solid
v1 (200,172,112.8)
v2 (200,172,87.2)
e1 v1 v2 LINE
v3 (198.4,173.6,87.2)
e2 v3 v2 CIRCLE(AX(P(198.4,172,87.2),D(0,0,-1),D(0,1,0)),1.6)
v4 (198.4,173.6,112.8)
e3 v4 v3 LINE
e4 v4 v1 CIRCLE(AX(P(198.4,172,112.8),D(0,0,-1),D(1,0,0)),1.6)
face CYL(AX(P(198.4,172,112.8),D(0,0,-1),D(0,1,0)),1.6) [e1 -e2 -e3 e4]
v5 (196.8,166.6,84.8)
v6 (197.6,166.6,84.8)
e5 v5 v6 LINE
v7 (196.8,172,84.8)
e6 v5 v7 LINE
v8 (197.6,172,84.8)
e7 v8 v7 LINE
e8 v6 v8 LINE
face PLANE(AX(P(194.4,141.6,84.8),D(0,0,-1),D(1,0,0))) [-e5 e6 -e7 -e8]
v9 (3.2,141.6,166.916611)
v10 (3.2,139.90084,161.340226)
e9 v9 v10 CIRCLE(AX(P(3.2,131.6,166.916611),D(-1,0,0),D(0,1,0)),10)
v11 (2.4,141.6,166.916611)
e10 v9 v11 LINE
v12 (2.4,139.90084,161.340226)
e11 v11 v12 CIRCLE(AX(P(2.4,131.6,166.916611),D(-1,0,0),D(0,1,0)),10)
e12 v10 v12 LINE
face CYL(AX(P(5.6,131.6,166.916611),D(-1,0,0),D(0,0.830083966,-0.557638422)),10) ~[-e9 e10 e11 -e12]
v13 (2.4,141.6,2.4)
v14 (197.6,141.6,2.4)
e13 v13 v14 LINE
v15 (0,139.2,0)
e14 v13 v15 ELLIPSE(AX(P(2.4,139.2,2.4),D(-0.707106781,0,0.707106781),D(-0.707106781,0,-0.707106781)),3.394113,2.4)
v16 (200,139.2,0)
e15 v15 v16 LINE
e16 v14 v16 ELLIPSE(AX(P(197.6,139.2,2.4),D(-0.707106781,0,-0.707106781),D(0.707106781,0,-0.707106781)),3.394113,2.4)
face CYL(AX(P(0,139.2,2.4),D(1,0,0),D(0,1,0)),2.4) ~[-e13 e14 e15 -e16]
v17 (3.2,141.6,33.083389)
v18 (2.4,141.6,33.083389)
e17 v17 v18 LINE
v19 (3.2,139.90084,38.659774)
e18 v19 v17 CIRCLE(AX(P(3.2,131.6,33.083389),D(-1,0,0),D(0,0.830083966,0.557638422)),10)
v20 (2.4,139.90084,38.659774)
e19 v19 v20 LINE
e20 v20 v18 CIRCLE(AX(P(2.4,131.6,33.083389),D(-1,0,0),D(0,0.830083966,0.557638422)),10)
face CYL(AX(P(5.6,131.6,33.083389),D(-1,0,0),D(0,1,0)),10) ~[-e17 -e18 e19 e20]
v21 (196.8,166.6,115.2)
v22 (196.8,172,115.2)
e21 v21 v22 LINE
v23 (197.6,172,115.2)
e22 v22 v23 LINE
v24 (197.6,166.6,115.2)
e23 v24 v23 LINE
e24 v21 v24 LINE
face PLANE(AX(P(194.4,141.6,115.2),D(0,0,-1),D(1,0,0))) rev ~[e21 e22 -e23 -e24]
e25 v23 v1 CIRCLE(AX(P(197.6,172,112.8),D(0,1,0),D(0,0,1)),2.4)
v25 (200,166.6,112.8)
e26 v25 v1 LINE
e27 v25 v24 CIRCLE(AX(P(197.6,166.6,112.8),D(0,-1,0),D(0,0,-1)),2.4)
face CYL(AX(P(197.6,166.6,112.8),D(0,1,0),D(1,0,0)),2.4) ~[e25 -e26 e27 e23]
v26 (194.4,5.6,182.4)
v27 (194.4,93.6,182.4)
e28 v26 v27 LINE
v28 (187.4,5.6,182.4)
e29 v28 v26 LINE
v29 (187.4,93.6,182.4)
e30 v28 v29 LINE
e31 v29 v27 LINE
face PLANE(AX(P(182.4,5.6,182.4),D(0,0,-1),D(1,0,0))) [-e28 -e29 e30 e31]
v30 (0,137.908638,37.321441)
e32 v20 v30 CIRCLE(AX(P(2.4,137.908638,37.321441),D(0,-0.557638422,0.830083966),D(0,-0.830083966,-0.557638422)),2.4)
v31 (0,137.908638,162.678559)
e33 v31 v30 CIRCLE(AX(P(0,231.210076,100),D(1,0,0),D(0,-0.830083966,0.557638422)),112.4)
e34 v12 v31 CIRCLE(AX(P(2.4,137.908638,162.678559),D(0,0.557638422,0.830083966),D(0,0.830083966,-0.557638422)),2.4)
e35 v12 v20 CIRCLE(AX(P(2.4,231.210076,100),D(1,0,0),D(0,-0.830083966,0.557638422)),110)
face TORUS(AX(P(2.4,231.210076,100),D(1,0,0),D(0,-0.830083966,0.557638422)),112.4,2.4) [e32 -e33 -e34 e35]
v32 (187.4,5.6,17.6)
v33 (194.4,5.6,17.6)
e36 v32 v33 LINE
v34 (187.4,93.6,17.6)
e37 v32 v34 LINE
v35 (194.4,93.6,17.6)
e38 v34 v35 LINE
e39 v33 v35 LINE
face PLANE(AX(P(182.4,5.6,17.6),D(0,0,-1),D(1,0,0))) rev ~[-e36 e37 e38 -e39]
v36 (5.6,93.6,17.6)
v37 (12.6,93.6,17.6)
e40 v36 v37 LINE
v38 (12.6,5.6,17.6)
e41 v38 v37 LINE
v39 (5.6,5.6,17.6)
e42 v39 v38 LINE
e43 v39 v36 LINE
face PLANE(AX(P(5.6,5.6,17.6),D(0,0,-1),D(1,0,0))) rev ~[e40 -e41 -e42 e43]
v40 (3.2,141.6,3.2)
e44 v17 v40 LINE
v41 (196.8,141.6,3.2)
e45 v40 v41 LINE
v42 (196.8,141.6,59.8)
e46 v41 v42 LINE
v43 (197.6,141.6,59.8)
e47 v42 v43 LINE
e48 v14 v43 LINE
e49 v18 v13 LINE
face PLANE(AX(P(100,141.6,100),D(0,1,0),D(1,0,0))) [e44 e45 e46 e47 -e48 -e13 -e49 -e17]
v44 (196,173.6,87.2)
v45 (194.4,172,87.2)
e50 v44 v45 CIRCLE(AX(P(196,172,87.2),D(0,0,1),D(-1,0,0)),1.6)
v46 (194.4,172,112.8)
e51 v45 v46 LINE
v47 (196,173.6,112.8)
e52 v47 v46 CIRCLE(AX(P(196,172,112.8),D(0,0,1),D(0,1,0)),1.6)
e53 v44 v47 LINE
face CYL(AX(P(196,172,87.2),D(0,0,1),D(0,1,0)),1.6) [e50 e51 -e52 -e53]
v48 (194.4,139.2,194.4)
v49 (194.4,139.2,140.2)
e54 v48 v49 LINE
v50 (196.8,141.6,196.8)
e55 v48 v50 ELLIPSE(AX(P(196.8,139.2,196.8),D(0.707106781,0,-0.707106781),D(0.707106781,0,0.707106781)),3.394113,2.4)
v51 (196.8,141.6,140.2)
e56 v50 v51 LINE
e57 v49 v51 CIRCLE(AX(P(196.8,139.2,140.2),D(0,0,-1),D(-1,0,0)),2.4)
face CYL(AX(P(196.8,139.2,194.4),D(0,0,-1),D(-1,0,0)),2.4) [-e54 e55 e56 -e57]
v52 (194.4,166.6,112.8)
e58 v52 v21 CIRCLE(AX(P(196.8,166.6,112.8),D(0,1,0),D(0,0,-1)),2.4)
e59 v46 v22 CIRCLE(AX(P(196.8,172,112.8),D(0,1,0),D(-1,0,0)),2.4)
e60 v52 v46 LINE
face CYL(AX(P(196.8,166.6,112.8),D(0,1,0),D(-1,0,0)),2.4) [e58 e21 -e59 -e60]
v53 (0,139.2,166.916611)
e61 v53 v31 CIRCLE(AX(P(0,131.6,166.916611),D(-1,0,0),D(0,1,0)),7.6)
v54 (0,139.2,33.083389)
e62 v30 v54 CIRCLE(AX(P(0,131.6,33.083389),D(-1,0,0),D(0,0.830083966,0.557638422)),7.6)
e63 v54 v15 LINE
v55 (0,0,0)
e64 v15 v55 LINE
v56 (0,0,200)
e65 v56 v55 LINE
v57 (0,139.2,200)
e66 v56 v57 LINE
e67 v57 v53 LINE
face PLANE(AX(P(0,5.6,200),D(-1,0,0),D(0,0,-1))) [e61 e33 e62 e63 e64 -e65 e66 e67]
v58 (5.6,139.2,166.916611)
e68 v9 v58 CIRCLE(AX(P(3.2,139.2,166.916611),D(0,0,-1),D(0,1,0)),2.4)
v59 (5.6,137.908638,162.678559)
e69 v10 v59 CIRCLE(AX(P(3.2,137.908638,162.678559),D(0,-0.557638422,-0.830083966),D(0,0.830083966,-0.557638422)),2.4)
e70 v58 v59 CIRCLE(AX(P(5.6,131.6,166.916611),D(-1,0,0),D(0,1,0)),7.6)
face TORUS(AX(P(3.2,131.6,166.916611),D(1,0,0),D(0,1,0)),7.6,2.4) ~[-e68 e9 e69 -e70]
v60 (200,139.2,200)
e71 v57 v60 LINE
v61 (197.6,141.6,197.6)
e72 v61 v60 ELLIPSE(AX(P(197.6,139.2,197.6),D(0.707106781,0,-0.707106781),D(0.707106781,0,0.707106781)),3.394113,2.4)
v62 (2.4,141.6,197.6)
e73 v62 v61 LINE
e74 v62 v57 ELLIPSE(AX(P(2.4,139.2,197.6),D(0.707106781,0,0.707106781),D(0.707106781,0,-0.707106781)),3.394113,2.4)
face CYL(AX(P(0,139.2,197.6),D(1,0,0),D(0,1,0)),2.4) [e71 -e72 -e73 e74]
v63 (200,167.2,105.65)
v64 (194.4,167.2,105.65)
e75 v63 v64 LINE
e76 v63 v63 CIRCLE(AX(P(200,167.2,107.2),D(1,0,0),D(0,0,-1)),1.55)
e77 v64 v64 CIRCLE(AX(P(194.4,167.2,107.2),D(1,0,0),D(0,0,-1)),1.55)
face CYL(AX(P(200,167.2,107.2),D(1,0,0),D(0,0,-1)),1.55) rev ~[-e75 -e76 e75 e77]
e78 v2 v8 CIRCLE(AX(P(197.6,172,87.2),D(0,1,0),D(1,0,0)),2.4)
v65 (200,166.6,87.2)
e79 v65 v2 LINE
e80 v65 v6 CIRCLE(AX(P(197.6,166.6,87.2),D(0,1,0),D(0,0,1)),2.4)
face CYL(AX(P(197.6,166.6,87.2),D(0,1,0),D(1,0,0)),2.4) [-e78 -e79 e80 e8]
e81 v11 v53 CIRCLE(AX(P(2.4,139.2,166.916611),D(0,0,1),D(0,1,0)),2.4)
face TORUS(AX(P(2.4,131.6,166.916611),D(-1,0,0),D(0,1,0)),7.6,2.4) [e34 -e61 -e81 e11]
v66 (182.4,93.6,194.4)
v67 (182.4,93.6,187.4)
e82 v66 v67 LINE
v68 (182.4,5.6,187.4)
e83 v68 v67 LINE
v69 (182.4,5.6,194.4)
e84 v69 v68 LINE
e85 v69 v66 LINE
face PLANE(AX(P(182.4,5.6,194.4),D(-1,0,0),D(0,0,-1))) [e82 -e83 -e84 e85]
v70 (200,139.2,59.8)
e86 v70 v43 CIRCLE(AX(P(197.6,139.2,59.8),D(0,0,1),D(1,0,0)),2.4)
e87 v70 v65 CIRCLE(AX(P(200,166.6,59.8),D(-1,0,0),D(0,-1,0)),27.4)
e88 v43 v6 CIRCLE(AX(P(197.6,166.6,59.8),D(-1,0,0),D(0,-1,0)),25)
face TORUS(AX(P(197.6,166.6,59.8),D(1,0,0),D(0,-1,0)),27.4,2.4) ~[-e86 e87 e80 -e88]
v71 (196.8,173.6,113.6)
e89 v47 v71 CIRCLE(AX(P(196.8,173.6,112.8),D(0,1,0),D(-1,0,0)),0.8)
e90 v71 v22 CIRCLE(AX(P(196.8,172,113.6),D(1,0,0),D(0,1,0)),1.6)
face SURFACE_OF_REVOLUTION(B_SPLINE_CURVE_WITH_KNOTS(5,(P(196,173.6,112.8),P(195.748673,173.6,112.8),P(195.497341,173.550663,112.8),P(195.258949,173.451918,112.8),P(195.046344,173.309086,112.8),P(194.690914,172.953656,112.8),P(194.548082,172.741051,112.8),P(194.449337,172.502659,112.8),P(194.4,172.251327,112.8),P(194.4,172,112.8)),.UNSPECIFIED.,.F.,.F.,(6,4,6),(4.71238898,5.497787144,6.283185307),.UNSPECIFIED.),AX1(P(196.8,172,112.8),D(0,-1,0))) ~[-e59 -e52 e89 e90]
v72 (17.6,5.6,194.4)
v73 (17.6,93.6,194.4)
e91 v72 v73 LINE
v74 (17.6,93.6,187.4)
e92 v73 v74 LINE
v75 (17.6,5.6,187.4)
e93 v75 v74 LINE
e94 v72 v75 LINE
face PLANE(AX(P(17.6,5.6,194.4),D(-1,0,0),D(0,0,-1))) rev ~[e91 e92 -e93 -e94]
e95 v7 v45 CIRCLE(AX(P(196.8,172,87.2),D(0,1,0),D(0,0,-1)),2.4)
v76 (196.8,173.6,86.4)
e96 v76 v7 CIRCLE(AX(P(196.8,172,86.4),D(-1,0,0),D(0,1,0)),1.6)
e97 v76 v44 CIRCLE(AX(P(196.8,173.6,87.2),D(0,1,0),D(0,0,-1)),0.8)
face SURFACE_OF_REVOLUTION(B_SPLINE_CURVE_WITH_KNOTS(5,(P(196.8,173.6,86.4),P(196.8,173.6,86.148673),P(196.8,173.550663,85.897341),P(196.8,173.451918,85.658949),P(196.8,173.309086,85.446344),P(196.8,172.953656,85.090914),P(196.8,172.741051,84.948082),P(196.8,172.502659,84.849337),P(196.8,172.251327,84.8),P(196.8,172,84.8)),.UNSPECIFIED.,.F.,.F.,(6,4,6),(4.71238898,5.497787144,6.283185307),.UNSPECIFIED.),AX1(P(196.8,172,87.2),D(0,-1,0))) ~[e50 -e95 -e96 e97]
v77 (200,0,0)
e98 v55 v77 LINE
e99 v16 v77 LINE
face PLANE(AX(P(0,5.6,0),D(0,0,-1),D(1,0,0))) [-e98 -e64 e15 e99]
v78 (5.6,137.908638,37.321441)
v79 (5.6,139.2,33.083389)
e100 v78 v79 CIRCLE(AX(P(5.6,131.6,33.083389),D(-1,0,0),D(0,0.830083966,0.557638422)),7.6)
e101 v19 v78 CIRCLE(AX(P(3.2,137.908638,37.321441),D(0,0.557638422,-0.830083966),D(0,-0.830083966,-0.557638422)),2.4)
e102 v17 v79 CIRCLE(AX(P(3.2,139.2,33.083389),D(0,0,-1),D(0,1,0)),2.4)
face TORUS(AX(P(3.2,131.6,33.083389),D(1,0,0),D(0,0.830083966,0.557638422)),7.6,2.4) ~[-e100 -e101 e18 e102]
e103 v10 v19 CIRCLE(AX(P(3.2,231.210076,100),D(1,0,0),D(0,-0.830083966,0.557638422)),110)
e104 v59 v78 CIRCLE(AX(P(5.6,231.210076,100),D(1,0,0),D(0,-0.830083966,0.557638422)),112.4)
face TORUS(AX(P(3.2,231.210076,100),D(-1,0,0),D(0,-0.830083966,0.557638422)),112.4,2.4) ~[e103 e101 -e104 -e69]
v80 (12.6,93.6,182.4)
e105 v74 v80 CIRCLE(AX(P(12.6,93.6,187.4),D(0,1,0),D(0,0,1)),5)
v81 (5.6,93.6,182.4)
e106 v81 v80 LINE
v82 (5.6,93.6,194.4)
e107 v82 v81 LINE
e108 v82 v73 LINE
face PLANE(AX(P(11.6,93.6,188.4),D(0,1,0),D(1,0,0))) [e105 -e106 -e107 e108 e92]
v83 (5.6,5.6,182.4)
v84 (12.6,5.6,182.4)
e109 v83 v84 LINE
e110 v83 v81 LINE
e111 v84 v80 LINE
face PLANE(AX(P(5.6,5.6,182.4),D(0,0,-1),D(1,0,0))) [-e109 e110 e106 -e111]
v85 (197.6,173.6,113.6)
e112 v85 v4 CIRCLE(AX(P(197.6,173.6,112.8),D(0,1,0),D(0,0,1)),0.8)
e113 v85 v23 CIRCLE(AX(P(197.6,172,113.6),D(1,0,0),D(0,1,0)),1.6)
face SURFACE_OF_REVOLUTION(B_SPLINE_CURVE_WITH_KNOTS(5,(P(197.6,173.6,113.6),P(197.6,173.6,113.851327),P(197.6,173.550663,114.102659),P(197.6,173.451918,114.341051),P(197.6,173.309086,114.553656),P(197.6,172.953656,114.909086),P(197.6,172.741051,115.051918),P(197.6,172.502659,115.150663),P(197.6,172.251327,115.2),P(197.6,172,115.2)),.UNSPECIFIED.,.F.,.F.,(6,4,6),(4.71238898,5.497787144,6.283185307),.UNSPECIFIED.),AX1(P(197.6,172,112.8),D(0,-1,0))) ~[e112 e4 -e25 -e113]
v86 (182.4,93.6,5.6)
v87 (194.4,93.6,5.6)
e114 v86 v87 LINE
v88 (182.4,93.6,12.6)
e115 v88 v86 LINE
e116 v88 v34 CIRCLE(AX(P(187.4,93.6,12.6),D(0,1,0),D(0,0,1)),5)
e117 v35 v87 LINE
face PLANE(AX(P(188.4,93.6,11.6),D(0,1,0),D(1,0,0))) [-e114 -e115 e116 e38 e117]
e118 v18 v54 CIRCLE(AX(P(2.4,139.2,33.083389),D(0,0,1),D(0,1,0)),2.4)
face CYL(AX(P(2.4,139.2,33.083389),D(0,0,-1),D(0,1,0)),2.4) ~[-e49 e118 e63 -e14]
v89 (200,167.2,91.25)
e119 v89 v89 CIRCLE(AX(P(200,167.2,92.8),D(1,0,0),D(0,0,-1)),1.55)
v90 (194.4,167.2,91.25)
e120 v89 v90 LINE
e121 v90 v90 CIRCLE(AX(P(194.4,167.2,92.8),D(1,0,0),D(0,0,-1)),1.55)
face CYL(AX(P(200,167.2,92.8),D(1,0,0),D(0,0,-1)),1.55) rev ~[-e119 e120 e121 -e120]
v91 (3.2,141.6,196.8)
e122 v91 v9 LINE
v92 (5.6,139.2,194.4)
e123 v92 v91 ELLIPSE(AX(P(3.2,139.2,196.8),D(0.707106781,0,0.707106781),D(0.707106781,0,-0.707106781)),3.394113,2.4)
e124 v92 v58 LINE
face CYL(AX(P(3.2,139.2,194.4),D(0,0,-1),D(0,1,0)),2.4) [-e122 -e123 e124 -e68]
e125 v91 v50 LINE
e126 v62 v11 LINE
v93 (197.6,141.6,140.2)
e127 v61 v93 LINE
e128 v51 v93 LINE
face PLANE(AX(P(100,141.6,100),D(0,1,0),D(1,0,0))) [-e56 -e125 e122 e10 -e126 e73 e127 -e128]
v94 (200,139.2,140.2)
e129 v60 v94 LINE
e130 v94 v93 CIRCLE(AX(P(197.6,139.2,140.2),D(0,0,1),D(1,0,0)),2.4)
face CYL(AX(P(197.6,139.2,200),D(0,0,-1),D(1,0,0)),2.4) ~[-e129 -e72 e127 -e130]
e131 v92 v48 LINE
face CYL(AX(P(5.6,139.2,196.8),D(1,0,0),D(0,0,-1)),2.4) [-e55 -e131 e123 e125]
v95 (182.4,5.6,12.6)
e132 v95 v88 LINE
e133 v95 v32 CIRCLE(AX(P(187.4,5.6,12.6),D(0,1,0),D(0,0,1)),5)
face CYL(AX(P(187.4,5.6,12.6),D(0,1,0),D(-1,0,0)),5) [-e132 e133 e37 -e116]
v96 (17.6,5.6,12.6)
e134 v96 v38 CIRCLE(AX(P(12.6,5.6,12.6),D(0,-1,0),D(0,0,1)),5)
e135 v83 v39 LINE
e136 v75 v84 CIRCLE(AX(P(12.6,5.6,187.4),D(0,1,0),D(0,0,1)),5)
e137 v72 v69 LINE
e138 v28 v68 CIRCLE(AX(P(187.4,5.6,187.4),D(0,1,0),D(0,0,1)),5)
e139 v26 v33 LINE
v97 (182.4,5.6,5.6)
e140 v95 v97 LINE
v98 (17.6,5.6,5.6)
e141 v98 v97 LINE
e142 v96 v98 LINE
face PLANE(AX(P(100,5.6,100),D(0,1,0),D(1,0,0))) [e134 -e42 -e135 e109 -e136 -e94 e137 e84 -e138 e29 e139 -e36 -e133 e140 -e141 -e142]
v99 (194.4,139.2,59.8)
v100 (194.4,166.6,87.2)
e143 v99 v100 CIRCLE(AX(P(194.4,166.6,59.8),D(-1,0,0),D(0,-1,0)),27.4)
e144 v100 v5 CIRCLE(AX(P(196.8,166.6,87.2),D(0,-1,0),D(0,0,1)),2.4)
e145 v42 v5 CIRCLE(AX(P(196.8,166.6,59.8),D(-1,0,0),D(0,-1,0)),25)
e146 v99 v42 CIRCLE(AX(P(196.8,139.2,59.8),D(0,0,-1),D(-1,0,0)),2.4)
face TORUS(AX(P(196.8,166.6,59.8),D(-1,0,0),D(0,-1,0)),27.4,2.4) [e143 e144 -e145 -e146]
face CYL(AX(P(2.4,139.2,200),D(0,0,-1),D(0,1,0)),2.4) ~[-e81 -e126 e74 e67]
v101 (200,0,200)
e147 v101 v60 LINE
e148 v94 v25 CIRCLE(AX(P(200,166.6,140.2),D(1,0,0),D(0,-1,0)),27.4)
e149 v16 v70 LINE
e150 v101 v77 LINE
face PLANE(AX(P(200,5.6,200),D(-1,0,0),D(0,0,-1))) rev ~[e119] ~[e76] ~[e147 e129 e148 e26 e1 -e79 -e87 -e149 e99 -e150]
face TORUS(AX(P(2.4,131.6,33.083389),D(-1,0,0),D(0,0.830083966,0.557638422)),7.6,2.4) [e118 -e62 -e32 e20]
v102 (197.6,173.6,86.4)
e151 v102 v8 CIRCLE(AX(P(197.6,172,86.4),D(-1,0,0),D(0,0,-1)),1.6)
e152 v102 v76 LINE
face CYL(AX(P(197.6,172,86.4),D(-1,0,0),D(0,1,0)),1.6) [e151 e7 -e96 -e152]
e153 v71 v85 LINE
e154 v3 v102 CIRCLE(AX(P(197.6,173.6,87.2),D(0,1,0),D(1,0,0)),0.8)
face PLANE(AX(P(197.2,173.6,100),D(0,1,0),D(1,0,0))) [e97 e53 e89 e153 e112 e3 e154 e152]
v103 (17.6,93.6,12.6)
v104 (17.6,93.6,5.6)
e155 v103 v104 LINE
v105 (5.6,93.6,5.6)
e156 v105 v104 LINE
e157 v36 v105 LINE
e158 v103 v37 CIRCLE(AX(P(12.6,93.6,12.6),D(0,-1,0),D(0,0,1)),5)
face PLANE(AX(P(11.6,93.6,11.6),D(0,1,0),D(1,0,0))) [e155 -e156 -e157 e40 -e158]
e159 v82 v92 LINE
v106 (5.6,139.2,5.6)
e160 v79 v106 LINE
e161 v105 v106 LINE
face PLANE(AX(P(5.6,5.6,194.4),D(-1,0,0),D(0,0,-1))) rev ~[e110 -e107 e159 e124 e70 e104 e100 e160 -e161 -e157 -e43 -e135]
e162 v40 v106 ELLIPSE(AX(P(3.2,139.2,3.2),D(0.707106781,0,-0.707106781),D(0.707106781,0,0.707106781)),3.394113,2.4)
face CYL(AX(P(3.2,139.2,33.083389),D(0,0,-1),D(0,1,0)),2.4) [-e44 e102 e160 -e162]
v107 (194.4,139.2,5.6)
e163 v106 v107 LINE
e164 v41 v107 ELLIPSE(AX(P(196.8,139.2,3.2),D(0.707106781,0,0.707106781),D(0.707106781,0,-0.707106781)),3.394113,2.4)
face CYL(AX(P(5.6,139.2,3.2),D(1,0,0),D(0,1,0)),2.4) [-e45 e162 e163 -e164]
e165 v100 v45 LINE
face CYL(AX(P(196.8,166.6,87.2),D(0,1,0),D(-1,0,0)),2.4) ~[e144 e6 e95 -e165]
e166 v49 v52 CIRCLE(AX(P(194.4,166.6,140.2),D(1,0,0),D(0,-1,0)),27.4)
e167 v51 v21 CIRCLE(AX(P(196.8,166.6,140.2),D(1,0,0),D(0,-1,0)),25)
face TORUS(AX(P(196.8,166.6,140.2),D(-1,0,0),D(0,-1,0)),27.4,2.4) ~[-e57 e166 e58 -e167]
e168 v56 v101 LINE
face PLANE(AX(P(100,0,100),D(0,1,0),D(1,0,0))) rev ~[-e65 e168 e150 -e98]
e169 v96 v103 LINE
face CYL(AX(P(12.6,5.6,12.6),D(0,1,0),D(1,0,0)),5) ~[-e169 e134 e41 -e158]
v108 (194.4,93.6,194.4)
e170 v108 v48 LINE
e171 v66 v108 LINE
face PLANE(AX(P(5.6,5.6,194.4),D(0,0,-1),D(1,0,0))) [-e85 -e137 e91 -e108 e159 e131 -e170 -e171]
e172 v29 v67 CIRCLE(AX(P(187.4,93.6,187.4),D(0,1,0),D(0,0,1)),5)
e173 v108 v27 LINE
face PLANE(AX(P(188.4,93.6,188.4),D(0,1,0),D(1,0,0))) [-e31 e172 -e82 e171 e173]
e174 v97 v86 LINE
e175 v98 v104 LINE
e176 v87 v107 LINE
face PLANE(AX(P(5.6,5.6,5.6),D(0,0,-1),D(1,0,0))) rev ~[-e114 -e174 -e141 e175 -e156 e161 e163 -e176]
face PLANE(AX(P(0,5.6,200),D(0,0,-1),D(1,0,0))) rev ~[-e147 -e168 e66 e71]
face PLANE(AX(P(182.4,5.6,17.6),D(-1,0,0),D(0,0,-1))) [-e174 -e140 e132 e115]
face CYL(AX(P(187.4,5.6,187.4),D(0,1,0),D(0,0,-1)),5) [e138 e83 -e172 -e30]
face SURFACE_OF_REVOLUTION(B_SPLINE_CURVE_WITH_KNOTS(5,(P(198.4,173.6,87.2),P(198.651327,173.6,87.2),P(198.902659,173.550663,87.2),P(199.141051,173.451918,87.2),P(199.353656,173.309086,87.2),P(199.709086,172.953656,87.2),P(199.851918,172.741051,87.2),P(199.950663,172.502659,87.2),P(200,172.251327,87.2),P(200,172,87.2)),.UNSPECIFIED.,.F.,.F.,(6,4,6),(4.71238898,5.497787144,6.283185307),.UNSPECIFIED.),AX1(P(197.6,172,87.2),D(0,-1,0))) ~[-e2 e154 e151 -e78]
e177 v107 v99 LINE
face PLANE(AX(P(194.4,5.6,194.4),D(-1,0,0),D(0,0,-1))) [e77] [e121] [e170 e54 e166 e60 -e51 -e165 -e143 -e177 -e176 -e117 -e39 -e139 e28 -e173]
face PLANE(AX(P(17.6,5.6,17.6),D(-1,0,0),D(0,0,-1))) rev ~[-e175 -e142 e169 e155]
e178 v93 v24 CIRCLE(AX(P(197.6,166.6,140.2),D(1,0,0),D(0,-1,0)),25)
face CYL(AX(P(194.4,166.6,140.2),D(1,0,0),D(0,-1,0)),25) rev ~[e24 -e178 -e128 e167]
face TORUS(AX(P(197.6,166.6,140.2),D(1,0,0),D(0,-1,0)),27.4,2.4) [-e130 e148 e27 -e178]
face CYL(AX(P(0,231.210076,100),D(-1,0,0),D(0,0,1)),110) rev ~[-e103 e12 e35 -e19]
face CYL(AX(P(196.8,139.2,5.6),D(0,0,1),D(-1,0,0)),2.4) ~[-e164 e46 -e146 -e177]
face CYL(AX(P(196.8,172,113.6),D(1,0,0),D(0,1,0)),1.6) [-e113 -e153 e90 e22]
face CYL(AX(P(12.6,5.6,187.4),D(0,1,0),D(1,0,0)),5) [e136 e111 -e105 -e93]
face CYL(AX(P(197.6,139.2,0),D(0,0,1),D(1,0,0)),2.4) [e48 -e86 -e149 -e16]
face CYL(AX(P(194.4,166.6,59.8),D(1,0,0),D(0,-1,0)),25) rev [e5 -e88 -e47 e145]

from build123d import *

# Parameters (mm, degrees)
SKETCH1_W           = 200
SKETCH1_H           = 200
BOSS_EXTRUDE1_DEPTH = 5.6
SKETCH2_W           = 200
SKETCH2_H           = 200
SKETCH2_W_2         = 188.8
SKETCH2_H_2         = 188.8
BOSS_EXTRUDE2_DEPTH = 136
SKETCH3_W           = 5.6
SKETCH3_H           = 30.4
BOSS_EXTRUDE3_DEPTH = 32
FILLET1_R           = 25
SKETCH4_R           = 110
CUT_EXTRUDE1_DEPTH  = 12
FILLET3_R           = 10
FILLET2_R           = 2.4
SKETCH5_W           = 12
SKETCH5_H           = 12
BOSS_EXTRUDE4_DEPTH = 88
FILLET4_R           = 5
SKETCH6_R           = 1.55
CUT_EXTRUDE2_DEPTH  = 332.868889774
FILLET5_R           = 1.6


with BuildPart() as part:
    # Sketch1 → Boss-Extrude1 (new body)
    with BuildSketch(Plane(origin=(0, 0, 0), x_dir=(1, 0, 0), z_dir=(0, 1, 0))):
        with Locations((100, -100)):
            Rectangle(SKETCH1_W, SKETCH1_H)
    extrude(amount=BOSS_EXTRUDE1_DEPTH)

    # Sketch2 → Boss-Extrude2 (add)
    with BuildSketch(Plane(origin=(0, 5.6, 0), x_dir=(1, 0, 0), z_dir=(0, 1, 0))):
        with Locations((100, -100)):
            Rectangle(SKETCH2_W, SKETCH2_H)
        with Locations((100, -100)):
            Rectangle(SKETCH2_W_2, SKETCH2_H_2, mode=Mode.SUBTRACT)
    extrude(amount=BOSS_EXTRUDE2_DEPTH)

    # Sketch3 → Boss-Extrude3 (add)
    with BuildSketch(Plane(origin=(0, 141.6, 0), x_dir=(1, 0, 0), z_dir=(0, 1, 0))):
        with Locations((197.2, -100)):
            Rectangle(SKETCH3_W, SKETCH3_H)
    extrude(amount=BOSS_EXTRUDE3_DEPTH)

    # Fillet1
    fillet1_edges = [part.edges().sort_by_distance(p)[0] for p in [
        (197.2, 141.6, 115.2),
        (197.2, 141.6, 84.8),
    ]]
    fillet(fillet1_edges, radius=FILLET1_R)

    # Sketch4 → Cut-Extrude1 (cut)
    with BuildSketch(Plane.ZY):
        with Locations((100, 231.210075879)):
            Circle(SKETCH4_R)
    extrude(amount=-CUT_EXTRUDE1_DEPTH, mode=Mode.SUBTRACT)

    # Fillet3
    fillet3_edges = [part.edges().sort_by_distance(p)[0] for p in [
        (2.8, 141.6, 163.796820462),
        (2.8, 141.6, 36.203179538),
    ]]
    fillet(fillet3_edges, radius=FILLET3_R)

    # Fillet2
    fillet2_edges = [part.edges().sort_by_distance(p)[0] for p in [
        (0, 141.6, 16.541694665),
        (100, 141.6, 200),
        (200, 141.6, 170.1),
        (100, 141.6, 0),
        (100, 141.6, 194.4),
        (194.4, 141.6, 167.3),
        (100, 141.6, 5.6),
        (5.6, 141.6, 19.341694665),
        (194.4, 170.1, 84.8),
        (194.4, 170.1, 115.2),
        (200, 170.1, 115.2),
        (200, 170.1, 84.8),
        (200, 141.6, 29.9),
        (194.4, 141.6, 32.7),
        (200, 148.92233047, 122.52233047),
        (194.4, 148.92233047, 122.52233047),
        (194.4, 148.92233047, 77.47766953),
        (200, 148.92233047, 77.47766953),
        (5.6, 141.6, 180.658305335),
        (0, 141.6, 183.458305335),
        (0, 121.210075879, 100),
        (0, 141.16578268, 35.99814519),
        (0, 141.16578268, 164.00185481),
        (5.6, 121.210075879, 100),
        (5.6, 141.16578268, 35.99814519),
        (5.6, 141.16578268, 164.00185481),
    ]]
    fillet(fillet2_edges, radius=FILLET2_R)

    # Sketch5 → Boss-Extrude4 (add)
    with BuildSketch(Plane(origin=(0, 5.6, 0), x_dir=(1, 0, 0), z_dir=(0, 1, 0))):
        with Locations((188.4, -11.6)):
            Rectangle(SKETCH5_W, SKETCH5_H)
        with Locations((188.4, -188.4)):
            Rectangle(SKETCH5_W, SKETCH5_H)
        with Locations((11.6, -11.6)):
            Rectangle(SKETCH5_W, SKETCH5_H)
        with Locations((11.6, -188.4)):
            Rectangle(SKETCH5_W, SKETCH5_H)
    extrude(amount=BOSS_EXTRUDE4_DEPTH)

    # Fillet4
    fillet4_edges = [part.edges().sort_by_distance(p)[0] for p in [
        (182.4, 49.6, 17.6),
        (182.4, 49.6, 182.4),
        (17.6, 49.6, 17.6),
        (17.6, 49.6, 182.4),
    ]]
    fillet(fillet4_edges, radius=FILLET4_R)

    # Sketch6 → Cut-Extrude2 (cut, through all)
    with BuildSketch(Plane(origin=(200, 0, 0), x_dir=(0, 0, -1), z_dir=(1, 0, 0))):
        with Locations((-107.2, 167.2)):
            Circle(SKETCH6_R)
        with Locations((-92.8, 167.2)):
            Circle(SKETCH6_R)
    extrude(amount=-CUT_EXTRUDE2_DEPTH, mode=Mode.SUBTRACT)

    # Fillet5
    fillet5_edges = [part.edges().sort_by_distance(p)[0] for p in [
        (197.2, 173.6, 115.2),
        (194.4, 173.6, 100),
        (200, 173.6, 100),
        (197.2, 173.6, 84.8),
        (195.102943725, 173.6, 85.502943725),
        (199.297056275, 173.6, 85.502943725),
        (199.297056275, 173.6, 114.497056275),
        (195.102943725, 173.6, 114.497056275),
    ]]
    fillet(fillet5_edges, radius=FILLET5_R)


solid = part.part
